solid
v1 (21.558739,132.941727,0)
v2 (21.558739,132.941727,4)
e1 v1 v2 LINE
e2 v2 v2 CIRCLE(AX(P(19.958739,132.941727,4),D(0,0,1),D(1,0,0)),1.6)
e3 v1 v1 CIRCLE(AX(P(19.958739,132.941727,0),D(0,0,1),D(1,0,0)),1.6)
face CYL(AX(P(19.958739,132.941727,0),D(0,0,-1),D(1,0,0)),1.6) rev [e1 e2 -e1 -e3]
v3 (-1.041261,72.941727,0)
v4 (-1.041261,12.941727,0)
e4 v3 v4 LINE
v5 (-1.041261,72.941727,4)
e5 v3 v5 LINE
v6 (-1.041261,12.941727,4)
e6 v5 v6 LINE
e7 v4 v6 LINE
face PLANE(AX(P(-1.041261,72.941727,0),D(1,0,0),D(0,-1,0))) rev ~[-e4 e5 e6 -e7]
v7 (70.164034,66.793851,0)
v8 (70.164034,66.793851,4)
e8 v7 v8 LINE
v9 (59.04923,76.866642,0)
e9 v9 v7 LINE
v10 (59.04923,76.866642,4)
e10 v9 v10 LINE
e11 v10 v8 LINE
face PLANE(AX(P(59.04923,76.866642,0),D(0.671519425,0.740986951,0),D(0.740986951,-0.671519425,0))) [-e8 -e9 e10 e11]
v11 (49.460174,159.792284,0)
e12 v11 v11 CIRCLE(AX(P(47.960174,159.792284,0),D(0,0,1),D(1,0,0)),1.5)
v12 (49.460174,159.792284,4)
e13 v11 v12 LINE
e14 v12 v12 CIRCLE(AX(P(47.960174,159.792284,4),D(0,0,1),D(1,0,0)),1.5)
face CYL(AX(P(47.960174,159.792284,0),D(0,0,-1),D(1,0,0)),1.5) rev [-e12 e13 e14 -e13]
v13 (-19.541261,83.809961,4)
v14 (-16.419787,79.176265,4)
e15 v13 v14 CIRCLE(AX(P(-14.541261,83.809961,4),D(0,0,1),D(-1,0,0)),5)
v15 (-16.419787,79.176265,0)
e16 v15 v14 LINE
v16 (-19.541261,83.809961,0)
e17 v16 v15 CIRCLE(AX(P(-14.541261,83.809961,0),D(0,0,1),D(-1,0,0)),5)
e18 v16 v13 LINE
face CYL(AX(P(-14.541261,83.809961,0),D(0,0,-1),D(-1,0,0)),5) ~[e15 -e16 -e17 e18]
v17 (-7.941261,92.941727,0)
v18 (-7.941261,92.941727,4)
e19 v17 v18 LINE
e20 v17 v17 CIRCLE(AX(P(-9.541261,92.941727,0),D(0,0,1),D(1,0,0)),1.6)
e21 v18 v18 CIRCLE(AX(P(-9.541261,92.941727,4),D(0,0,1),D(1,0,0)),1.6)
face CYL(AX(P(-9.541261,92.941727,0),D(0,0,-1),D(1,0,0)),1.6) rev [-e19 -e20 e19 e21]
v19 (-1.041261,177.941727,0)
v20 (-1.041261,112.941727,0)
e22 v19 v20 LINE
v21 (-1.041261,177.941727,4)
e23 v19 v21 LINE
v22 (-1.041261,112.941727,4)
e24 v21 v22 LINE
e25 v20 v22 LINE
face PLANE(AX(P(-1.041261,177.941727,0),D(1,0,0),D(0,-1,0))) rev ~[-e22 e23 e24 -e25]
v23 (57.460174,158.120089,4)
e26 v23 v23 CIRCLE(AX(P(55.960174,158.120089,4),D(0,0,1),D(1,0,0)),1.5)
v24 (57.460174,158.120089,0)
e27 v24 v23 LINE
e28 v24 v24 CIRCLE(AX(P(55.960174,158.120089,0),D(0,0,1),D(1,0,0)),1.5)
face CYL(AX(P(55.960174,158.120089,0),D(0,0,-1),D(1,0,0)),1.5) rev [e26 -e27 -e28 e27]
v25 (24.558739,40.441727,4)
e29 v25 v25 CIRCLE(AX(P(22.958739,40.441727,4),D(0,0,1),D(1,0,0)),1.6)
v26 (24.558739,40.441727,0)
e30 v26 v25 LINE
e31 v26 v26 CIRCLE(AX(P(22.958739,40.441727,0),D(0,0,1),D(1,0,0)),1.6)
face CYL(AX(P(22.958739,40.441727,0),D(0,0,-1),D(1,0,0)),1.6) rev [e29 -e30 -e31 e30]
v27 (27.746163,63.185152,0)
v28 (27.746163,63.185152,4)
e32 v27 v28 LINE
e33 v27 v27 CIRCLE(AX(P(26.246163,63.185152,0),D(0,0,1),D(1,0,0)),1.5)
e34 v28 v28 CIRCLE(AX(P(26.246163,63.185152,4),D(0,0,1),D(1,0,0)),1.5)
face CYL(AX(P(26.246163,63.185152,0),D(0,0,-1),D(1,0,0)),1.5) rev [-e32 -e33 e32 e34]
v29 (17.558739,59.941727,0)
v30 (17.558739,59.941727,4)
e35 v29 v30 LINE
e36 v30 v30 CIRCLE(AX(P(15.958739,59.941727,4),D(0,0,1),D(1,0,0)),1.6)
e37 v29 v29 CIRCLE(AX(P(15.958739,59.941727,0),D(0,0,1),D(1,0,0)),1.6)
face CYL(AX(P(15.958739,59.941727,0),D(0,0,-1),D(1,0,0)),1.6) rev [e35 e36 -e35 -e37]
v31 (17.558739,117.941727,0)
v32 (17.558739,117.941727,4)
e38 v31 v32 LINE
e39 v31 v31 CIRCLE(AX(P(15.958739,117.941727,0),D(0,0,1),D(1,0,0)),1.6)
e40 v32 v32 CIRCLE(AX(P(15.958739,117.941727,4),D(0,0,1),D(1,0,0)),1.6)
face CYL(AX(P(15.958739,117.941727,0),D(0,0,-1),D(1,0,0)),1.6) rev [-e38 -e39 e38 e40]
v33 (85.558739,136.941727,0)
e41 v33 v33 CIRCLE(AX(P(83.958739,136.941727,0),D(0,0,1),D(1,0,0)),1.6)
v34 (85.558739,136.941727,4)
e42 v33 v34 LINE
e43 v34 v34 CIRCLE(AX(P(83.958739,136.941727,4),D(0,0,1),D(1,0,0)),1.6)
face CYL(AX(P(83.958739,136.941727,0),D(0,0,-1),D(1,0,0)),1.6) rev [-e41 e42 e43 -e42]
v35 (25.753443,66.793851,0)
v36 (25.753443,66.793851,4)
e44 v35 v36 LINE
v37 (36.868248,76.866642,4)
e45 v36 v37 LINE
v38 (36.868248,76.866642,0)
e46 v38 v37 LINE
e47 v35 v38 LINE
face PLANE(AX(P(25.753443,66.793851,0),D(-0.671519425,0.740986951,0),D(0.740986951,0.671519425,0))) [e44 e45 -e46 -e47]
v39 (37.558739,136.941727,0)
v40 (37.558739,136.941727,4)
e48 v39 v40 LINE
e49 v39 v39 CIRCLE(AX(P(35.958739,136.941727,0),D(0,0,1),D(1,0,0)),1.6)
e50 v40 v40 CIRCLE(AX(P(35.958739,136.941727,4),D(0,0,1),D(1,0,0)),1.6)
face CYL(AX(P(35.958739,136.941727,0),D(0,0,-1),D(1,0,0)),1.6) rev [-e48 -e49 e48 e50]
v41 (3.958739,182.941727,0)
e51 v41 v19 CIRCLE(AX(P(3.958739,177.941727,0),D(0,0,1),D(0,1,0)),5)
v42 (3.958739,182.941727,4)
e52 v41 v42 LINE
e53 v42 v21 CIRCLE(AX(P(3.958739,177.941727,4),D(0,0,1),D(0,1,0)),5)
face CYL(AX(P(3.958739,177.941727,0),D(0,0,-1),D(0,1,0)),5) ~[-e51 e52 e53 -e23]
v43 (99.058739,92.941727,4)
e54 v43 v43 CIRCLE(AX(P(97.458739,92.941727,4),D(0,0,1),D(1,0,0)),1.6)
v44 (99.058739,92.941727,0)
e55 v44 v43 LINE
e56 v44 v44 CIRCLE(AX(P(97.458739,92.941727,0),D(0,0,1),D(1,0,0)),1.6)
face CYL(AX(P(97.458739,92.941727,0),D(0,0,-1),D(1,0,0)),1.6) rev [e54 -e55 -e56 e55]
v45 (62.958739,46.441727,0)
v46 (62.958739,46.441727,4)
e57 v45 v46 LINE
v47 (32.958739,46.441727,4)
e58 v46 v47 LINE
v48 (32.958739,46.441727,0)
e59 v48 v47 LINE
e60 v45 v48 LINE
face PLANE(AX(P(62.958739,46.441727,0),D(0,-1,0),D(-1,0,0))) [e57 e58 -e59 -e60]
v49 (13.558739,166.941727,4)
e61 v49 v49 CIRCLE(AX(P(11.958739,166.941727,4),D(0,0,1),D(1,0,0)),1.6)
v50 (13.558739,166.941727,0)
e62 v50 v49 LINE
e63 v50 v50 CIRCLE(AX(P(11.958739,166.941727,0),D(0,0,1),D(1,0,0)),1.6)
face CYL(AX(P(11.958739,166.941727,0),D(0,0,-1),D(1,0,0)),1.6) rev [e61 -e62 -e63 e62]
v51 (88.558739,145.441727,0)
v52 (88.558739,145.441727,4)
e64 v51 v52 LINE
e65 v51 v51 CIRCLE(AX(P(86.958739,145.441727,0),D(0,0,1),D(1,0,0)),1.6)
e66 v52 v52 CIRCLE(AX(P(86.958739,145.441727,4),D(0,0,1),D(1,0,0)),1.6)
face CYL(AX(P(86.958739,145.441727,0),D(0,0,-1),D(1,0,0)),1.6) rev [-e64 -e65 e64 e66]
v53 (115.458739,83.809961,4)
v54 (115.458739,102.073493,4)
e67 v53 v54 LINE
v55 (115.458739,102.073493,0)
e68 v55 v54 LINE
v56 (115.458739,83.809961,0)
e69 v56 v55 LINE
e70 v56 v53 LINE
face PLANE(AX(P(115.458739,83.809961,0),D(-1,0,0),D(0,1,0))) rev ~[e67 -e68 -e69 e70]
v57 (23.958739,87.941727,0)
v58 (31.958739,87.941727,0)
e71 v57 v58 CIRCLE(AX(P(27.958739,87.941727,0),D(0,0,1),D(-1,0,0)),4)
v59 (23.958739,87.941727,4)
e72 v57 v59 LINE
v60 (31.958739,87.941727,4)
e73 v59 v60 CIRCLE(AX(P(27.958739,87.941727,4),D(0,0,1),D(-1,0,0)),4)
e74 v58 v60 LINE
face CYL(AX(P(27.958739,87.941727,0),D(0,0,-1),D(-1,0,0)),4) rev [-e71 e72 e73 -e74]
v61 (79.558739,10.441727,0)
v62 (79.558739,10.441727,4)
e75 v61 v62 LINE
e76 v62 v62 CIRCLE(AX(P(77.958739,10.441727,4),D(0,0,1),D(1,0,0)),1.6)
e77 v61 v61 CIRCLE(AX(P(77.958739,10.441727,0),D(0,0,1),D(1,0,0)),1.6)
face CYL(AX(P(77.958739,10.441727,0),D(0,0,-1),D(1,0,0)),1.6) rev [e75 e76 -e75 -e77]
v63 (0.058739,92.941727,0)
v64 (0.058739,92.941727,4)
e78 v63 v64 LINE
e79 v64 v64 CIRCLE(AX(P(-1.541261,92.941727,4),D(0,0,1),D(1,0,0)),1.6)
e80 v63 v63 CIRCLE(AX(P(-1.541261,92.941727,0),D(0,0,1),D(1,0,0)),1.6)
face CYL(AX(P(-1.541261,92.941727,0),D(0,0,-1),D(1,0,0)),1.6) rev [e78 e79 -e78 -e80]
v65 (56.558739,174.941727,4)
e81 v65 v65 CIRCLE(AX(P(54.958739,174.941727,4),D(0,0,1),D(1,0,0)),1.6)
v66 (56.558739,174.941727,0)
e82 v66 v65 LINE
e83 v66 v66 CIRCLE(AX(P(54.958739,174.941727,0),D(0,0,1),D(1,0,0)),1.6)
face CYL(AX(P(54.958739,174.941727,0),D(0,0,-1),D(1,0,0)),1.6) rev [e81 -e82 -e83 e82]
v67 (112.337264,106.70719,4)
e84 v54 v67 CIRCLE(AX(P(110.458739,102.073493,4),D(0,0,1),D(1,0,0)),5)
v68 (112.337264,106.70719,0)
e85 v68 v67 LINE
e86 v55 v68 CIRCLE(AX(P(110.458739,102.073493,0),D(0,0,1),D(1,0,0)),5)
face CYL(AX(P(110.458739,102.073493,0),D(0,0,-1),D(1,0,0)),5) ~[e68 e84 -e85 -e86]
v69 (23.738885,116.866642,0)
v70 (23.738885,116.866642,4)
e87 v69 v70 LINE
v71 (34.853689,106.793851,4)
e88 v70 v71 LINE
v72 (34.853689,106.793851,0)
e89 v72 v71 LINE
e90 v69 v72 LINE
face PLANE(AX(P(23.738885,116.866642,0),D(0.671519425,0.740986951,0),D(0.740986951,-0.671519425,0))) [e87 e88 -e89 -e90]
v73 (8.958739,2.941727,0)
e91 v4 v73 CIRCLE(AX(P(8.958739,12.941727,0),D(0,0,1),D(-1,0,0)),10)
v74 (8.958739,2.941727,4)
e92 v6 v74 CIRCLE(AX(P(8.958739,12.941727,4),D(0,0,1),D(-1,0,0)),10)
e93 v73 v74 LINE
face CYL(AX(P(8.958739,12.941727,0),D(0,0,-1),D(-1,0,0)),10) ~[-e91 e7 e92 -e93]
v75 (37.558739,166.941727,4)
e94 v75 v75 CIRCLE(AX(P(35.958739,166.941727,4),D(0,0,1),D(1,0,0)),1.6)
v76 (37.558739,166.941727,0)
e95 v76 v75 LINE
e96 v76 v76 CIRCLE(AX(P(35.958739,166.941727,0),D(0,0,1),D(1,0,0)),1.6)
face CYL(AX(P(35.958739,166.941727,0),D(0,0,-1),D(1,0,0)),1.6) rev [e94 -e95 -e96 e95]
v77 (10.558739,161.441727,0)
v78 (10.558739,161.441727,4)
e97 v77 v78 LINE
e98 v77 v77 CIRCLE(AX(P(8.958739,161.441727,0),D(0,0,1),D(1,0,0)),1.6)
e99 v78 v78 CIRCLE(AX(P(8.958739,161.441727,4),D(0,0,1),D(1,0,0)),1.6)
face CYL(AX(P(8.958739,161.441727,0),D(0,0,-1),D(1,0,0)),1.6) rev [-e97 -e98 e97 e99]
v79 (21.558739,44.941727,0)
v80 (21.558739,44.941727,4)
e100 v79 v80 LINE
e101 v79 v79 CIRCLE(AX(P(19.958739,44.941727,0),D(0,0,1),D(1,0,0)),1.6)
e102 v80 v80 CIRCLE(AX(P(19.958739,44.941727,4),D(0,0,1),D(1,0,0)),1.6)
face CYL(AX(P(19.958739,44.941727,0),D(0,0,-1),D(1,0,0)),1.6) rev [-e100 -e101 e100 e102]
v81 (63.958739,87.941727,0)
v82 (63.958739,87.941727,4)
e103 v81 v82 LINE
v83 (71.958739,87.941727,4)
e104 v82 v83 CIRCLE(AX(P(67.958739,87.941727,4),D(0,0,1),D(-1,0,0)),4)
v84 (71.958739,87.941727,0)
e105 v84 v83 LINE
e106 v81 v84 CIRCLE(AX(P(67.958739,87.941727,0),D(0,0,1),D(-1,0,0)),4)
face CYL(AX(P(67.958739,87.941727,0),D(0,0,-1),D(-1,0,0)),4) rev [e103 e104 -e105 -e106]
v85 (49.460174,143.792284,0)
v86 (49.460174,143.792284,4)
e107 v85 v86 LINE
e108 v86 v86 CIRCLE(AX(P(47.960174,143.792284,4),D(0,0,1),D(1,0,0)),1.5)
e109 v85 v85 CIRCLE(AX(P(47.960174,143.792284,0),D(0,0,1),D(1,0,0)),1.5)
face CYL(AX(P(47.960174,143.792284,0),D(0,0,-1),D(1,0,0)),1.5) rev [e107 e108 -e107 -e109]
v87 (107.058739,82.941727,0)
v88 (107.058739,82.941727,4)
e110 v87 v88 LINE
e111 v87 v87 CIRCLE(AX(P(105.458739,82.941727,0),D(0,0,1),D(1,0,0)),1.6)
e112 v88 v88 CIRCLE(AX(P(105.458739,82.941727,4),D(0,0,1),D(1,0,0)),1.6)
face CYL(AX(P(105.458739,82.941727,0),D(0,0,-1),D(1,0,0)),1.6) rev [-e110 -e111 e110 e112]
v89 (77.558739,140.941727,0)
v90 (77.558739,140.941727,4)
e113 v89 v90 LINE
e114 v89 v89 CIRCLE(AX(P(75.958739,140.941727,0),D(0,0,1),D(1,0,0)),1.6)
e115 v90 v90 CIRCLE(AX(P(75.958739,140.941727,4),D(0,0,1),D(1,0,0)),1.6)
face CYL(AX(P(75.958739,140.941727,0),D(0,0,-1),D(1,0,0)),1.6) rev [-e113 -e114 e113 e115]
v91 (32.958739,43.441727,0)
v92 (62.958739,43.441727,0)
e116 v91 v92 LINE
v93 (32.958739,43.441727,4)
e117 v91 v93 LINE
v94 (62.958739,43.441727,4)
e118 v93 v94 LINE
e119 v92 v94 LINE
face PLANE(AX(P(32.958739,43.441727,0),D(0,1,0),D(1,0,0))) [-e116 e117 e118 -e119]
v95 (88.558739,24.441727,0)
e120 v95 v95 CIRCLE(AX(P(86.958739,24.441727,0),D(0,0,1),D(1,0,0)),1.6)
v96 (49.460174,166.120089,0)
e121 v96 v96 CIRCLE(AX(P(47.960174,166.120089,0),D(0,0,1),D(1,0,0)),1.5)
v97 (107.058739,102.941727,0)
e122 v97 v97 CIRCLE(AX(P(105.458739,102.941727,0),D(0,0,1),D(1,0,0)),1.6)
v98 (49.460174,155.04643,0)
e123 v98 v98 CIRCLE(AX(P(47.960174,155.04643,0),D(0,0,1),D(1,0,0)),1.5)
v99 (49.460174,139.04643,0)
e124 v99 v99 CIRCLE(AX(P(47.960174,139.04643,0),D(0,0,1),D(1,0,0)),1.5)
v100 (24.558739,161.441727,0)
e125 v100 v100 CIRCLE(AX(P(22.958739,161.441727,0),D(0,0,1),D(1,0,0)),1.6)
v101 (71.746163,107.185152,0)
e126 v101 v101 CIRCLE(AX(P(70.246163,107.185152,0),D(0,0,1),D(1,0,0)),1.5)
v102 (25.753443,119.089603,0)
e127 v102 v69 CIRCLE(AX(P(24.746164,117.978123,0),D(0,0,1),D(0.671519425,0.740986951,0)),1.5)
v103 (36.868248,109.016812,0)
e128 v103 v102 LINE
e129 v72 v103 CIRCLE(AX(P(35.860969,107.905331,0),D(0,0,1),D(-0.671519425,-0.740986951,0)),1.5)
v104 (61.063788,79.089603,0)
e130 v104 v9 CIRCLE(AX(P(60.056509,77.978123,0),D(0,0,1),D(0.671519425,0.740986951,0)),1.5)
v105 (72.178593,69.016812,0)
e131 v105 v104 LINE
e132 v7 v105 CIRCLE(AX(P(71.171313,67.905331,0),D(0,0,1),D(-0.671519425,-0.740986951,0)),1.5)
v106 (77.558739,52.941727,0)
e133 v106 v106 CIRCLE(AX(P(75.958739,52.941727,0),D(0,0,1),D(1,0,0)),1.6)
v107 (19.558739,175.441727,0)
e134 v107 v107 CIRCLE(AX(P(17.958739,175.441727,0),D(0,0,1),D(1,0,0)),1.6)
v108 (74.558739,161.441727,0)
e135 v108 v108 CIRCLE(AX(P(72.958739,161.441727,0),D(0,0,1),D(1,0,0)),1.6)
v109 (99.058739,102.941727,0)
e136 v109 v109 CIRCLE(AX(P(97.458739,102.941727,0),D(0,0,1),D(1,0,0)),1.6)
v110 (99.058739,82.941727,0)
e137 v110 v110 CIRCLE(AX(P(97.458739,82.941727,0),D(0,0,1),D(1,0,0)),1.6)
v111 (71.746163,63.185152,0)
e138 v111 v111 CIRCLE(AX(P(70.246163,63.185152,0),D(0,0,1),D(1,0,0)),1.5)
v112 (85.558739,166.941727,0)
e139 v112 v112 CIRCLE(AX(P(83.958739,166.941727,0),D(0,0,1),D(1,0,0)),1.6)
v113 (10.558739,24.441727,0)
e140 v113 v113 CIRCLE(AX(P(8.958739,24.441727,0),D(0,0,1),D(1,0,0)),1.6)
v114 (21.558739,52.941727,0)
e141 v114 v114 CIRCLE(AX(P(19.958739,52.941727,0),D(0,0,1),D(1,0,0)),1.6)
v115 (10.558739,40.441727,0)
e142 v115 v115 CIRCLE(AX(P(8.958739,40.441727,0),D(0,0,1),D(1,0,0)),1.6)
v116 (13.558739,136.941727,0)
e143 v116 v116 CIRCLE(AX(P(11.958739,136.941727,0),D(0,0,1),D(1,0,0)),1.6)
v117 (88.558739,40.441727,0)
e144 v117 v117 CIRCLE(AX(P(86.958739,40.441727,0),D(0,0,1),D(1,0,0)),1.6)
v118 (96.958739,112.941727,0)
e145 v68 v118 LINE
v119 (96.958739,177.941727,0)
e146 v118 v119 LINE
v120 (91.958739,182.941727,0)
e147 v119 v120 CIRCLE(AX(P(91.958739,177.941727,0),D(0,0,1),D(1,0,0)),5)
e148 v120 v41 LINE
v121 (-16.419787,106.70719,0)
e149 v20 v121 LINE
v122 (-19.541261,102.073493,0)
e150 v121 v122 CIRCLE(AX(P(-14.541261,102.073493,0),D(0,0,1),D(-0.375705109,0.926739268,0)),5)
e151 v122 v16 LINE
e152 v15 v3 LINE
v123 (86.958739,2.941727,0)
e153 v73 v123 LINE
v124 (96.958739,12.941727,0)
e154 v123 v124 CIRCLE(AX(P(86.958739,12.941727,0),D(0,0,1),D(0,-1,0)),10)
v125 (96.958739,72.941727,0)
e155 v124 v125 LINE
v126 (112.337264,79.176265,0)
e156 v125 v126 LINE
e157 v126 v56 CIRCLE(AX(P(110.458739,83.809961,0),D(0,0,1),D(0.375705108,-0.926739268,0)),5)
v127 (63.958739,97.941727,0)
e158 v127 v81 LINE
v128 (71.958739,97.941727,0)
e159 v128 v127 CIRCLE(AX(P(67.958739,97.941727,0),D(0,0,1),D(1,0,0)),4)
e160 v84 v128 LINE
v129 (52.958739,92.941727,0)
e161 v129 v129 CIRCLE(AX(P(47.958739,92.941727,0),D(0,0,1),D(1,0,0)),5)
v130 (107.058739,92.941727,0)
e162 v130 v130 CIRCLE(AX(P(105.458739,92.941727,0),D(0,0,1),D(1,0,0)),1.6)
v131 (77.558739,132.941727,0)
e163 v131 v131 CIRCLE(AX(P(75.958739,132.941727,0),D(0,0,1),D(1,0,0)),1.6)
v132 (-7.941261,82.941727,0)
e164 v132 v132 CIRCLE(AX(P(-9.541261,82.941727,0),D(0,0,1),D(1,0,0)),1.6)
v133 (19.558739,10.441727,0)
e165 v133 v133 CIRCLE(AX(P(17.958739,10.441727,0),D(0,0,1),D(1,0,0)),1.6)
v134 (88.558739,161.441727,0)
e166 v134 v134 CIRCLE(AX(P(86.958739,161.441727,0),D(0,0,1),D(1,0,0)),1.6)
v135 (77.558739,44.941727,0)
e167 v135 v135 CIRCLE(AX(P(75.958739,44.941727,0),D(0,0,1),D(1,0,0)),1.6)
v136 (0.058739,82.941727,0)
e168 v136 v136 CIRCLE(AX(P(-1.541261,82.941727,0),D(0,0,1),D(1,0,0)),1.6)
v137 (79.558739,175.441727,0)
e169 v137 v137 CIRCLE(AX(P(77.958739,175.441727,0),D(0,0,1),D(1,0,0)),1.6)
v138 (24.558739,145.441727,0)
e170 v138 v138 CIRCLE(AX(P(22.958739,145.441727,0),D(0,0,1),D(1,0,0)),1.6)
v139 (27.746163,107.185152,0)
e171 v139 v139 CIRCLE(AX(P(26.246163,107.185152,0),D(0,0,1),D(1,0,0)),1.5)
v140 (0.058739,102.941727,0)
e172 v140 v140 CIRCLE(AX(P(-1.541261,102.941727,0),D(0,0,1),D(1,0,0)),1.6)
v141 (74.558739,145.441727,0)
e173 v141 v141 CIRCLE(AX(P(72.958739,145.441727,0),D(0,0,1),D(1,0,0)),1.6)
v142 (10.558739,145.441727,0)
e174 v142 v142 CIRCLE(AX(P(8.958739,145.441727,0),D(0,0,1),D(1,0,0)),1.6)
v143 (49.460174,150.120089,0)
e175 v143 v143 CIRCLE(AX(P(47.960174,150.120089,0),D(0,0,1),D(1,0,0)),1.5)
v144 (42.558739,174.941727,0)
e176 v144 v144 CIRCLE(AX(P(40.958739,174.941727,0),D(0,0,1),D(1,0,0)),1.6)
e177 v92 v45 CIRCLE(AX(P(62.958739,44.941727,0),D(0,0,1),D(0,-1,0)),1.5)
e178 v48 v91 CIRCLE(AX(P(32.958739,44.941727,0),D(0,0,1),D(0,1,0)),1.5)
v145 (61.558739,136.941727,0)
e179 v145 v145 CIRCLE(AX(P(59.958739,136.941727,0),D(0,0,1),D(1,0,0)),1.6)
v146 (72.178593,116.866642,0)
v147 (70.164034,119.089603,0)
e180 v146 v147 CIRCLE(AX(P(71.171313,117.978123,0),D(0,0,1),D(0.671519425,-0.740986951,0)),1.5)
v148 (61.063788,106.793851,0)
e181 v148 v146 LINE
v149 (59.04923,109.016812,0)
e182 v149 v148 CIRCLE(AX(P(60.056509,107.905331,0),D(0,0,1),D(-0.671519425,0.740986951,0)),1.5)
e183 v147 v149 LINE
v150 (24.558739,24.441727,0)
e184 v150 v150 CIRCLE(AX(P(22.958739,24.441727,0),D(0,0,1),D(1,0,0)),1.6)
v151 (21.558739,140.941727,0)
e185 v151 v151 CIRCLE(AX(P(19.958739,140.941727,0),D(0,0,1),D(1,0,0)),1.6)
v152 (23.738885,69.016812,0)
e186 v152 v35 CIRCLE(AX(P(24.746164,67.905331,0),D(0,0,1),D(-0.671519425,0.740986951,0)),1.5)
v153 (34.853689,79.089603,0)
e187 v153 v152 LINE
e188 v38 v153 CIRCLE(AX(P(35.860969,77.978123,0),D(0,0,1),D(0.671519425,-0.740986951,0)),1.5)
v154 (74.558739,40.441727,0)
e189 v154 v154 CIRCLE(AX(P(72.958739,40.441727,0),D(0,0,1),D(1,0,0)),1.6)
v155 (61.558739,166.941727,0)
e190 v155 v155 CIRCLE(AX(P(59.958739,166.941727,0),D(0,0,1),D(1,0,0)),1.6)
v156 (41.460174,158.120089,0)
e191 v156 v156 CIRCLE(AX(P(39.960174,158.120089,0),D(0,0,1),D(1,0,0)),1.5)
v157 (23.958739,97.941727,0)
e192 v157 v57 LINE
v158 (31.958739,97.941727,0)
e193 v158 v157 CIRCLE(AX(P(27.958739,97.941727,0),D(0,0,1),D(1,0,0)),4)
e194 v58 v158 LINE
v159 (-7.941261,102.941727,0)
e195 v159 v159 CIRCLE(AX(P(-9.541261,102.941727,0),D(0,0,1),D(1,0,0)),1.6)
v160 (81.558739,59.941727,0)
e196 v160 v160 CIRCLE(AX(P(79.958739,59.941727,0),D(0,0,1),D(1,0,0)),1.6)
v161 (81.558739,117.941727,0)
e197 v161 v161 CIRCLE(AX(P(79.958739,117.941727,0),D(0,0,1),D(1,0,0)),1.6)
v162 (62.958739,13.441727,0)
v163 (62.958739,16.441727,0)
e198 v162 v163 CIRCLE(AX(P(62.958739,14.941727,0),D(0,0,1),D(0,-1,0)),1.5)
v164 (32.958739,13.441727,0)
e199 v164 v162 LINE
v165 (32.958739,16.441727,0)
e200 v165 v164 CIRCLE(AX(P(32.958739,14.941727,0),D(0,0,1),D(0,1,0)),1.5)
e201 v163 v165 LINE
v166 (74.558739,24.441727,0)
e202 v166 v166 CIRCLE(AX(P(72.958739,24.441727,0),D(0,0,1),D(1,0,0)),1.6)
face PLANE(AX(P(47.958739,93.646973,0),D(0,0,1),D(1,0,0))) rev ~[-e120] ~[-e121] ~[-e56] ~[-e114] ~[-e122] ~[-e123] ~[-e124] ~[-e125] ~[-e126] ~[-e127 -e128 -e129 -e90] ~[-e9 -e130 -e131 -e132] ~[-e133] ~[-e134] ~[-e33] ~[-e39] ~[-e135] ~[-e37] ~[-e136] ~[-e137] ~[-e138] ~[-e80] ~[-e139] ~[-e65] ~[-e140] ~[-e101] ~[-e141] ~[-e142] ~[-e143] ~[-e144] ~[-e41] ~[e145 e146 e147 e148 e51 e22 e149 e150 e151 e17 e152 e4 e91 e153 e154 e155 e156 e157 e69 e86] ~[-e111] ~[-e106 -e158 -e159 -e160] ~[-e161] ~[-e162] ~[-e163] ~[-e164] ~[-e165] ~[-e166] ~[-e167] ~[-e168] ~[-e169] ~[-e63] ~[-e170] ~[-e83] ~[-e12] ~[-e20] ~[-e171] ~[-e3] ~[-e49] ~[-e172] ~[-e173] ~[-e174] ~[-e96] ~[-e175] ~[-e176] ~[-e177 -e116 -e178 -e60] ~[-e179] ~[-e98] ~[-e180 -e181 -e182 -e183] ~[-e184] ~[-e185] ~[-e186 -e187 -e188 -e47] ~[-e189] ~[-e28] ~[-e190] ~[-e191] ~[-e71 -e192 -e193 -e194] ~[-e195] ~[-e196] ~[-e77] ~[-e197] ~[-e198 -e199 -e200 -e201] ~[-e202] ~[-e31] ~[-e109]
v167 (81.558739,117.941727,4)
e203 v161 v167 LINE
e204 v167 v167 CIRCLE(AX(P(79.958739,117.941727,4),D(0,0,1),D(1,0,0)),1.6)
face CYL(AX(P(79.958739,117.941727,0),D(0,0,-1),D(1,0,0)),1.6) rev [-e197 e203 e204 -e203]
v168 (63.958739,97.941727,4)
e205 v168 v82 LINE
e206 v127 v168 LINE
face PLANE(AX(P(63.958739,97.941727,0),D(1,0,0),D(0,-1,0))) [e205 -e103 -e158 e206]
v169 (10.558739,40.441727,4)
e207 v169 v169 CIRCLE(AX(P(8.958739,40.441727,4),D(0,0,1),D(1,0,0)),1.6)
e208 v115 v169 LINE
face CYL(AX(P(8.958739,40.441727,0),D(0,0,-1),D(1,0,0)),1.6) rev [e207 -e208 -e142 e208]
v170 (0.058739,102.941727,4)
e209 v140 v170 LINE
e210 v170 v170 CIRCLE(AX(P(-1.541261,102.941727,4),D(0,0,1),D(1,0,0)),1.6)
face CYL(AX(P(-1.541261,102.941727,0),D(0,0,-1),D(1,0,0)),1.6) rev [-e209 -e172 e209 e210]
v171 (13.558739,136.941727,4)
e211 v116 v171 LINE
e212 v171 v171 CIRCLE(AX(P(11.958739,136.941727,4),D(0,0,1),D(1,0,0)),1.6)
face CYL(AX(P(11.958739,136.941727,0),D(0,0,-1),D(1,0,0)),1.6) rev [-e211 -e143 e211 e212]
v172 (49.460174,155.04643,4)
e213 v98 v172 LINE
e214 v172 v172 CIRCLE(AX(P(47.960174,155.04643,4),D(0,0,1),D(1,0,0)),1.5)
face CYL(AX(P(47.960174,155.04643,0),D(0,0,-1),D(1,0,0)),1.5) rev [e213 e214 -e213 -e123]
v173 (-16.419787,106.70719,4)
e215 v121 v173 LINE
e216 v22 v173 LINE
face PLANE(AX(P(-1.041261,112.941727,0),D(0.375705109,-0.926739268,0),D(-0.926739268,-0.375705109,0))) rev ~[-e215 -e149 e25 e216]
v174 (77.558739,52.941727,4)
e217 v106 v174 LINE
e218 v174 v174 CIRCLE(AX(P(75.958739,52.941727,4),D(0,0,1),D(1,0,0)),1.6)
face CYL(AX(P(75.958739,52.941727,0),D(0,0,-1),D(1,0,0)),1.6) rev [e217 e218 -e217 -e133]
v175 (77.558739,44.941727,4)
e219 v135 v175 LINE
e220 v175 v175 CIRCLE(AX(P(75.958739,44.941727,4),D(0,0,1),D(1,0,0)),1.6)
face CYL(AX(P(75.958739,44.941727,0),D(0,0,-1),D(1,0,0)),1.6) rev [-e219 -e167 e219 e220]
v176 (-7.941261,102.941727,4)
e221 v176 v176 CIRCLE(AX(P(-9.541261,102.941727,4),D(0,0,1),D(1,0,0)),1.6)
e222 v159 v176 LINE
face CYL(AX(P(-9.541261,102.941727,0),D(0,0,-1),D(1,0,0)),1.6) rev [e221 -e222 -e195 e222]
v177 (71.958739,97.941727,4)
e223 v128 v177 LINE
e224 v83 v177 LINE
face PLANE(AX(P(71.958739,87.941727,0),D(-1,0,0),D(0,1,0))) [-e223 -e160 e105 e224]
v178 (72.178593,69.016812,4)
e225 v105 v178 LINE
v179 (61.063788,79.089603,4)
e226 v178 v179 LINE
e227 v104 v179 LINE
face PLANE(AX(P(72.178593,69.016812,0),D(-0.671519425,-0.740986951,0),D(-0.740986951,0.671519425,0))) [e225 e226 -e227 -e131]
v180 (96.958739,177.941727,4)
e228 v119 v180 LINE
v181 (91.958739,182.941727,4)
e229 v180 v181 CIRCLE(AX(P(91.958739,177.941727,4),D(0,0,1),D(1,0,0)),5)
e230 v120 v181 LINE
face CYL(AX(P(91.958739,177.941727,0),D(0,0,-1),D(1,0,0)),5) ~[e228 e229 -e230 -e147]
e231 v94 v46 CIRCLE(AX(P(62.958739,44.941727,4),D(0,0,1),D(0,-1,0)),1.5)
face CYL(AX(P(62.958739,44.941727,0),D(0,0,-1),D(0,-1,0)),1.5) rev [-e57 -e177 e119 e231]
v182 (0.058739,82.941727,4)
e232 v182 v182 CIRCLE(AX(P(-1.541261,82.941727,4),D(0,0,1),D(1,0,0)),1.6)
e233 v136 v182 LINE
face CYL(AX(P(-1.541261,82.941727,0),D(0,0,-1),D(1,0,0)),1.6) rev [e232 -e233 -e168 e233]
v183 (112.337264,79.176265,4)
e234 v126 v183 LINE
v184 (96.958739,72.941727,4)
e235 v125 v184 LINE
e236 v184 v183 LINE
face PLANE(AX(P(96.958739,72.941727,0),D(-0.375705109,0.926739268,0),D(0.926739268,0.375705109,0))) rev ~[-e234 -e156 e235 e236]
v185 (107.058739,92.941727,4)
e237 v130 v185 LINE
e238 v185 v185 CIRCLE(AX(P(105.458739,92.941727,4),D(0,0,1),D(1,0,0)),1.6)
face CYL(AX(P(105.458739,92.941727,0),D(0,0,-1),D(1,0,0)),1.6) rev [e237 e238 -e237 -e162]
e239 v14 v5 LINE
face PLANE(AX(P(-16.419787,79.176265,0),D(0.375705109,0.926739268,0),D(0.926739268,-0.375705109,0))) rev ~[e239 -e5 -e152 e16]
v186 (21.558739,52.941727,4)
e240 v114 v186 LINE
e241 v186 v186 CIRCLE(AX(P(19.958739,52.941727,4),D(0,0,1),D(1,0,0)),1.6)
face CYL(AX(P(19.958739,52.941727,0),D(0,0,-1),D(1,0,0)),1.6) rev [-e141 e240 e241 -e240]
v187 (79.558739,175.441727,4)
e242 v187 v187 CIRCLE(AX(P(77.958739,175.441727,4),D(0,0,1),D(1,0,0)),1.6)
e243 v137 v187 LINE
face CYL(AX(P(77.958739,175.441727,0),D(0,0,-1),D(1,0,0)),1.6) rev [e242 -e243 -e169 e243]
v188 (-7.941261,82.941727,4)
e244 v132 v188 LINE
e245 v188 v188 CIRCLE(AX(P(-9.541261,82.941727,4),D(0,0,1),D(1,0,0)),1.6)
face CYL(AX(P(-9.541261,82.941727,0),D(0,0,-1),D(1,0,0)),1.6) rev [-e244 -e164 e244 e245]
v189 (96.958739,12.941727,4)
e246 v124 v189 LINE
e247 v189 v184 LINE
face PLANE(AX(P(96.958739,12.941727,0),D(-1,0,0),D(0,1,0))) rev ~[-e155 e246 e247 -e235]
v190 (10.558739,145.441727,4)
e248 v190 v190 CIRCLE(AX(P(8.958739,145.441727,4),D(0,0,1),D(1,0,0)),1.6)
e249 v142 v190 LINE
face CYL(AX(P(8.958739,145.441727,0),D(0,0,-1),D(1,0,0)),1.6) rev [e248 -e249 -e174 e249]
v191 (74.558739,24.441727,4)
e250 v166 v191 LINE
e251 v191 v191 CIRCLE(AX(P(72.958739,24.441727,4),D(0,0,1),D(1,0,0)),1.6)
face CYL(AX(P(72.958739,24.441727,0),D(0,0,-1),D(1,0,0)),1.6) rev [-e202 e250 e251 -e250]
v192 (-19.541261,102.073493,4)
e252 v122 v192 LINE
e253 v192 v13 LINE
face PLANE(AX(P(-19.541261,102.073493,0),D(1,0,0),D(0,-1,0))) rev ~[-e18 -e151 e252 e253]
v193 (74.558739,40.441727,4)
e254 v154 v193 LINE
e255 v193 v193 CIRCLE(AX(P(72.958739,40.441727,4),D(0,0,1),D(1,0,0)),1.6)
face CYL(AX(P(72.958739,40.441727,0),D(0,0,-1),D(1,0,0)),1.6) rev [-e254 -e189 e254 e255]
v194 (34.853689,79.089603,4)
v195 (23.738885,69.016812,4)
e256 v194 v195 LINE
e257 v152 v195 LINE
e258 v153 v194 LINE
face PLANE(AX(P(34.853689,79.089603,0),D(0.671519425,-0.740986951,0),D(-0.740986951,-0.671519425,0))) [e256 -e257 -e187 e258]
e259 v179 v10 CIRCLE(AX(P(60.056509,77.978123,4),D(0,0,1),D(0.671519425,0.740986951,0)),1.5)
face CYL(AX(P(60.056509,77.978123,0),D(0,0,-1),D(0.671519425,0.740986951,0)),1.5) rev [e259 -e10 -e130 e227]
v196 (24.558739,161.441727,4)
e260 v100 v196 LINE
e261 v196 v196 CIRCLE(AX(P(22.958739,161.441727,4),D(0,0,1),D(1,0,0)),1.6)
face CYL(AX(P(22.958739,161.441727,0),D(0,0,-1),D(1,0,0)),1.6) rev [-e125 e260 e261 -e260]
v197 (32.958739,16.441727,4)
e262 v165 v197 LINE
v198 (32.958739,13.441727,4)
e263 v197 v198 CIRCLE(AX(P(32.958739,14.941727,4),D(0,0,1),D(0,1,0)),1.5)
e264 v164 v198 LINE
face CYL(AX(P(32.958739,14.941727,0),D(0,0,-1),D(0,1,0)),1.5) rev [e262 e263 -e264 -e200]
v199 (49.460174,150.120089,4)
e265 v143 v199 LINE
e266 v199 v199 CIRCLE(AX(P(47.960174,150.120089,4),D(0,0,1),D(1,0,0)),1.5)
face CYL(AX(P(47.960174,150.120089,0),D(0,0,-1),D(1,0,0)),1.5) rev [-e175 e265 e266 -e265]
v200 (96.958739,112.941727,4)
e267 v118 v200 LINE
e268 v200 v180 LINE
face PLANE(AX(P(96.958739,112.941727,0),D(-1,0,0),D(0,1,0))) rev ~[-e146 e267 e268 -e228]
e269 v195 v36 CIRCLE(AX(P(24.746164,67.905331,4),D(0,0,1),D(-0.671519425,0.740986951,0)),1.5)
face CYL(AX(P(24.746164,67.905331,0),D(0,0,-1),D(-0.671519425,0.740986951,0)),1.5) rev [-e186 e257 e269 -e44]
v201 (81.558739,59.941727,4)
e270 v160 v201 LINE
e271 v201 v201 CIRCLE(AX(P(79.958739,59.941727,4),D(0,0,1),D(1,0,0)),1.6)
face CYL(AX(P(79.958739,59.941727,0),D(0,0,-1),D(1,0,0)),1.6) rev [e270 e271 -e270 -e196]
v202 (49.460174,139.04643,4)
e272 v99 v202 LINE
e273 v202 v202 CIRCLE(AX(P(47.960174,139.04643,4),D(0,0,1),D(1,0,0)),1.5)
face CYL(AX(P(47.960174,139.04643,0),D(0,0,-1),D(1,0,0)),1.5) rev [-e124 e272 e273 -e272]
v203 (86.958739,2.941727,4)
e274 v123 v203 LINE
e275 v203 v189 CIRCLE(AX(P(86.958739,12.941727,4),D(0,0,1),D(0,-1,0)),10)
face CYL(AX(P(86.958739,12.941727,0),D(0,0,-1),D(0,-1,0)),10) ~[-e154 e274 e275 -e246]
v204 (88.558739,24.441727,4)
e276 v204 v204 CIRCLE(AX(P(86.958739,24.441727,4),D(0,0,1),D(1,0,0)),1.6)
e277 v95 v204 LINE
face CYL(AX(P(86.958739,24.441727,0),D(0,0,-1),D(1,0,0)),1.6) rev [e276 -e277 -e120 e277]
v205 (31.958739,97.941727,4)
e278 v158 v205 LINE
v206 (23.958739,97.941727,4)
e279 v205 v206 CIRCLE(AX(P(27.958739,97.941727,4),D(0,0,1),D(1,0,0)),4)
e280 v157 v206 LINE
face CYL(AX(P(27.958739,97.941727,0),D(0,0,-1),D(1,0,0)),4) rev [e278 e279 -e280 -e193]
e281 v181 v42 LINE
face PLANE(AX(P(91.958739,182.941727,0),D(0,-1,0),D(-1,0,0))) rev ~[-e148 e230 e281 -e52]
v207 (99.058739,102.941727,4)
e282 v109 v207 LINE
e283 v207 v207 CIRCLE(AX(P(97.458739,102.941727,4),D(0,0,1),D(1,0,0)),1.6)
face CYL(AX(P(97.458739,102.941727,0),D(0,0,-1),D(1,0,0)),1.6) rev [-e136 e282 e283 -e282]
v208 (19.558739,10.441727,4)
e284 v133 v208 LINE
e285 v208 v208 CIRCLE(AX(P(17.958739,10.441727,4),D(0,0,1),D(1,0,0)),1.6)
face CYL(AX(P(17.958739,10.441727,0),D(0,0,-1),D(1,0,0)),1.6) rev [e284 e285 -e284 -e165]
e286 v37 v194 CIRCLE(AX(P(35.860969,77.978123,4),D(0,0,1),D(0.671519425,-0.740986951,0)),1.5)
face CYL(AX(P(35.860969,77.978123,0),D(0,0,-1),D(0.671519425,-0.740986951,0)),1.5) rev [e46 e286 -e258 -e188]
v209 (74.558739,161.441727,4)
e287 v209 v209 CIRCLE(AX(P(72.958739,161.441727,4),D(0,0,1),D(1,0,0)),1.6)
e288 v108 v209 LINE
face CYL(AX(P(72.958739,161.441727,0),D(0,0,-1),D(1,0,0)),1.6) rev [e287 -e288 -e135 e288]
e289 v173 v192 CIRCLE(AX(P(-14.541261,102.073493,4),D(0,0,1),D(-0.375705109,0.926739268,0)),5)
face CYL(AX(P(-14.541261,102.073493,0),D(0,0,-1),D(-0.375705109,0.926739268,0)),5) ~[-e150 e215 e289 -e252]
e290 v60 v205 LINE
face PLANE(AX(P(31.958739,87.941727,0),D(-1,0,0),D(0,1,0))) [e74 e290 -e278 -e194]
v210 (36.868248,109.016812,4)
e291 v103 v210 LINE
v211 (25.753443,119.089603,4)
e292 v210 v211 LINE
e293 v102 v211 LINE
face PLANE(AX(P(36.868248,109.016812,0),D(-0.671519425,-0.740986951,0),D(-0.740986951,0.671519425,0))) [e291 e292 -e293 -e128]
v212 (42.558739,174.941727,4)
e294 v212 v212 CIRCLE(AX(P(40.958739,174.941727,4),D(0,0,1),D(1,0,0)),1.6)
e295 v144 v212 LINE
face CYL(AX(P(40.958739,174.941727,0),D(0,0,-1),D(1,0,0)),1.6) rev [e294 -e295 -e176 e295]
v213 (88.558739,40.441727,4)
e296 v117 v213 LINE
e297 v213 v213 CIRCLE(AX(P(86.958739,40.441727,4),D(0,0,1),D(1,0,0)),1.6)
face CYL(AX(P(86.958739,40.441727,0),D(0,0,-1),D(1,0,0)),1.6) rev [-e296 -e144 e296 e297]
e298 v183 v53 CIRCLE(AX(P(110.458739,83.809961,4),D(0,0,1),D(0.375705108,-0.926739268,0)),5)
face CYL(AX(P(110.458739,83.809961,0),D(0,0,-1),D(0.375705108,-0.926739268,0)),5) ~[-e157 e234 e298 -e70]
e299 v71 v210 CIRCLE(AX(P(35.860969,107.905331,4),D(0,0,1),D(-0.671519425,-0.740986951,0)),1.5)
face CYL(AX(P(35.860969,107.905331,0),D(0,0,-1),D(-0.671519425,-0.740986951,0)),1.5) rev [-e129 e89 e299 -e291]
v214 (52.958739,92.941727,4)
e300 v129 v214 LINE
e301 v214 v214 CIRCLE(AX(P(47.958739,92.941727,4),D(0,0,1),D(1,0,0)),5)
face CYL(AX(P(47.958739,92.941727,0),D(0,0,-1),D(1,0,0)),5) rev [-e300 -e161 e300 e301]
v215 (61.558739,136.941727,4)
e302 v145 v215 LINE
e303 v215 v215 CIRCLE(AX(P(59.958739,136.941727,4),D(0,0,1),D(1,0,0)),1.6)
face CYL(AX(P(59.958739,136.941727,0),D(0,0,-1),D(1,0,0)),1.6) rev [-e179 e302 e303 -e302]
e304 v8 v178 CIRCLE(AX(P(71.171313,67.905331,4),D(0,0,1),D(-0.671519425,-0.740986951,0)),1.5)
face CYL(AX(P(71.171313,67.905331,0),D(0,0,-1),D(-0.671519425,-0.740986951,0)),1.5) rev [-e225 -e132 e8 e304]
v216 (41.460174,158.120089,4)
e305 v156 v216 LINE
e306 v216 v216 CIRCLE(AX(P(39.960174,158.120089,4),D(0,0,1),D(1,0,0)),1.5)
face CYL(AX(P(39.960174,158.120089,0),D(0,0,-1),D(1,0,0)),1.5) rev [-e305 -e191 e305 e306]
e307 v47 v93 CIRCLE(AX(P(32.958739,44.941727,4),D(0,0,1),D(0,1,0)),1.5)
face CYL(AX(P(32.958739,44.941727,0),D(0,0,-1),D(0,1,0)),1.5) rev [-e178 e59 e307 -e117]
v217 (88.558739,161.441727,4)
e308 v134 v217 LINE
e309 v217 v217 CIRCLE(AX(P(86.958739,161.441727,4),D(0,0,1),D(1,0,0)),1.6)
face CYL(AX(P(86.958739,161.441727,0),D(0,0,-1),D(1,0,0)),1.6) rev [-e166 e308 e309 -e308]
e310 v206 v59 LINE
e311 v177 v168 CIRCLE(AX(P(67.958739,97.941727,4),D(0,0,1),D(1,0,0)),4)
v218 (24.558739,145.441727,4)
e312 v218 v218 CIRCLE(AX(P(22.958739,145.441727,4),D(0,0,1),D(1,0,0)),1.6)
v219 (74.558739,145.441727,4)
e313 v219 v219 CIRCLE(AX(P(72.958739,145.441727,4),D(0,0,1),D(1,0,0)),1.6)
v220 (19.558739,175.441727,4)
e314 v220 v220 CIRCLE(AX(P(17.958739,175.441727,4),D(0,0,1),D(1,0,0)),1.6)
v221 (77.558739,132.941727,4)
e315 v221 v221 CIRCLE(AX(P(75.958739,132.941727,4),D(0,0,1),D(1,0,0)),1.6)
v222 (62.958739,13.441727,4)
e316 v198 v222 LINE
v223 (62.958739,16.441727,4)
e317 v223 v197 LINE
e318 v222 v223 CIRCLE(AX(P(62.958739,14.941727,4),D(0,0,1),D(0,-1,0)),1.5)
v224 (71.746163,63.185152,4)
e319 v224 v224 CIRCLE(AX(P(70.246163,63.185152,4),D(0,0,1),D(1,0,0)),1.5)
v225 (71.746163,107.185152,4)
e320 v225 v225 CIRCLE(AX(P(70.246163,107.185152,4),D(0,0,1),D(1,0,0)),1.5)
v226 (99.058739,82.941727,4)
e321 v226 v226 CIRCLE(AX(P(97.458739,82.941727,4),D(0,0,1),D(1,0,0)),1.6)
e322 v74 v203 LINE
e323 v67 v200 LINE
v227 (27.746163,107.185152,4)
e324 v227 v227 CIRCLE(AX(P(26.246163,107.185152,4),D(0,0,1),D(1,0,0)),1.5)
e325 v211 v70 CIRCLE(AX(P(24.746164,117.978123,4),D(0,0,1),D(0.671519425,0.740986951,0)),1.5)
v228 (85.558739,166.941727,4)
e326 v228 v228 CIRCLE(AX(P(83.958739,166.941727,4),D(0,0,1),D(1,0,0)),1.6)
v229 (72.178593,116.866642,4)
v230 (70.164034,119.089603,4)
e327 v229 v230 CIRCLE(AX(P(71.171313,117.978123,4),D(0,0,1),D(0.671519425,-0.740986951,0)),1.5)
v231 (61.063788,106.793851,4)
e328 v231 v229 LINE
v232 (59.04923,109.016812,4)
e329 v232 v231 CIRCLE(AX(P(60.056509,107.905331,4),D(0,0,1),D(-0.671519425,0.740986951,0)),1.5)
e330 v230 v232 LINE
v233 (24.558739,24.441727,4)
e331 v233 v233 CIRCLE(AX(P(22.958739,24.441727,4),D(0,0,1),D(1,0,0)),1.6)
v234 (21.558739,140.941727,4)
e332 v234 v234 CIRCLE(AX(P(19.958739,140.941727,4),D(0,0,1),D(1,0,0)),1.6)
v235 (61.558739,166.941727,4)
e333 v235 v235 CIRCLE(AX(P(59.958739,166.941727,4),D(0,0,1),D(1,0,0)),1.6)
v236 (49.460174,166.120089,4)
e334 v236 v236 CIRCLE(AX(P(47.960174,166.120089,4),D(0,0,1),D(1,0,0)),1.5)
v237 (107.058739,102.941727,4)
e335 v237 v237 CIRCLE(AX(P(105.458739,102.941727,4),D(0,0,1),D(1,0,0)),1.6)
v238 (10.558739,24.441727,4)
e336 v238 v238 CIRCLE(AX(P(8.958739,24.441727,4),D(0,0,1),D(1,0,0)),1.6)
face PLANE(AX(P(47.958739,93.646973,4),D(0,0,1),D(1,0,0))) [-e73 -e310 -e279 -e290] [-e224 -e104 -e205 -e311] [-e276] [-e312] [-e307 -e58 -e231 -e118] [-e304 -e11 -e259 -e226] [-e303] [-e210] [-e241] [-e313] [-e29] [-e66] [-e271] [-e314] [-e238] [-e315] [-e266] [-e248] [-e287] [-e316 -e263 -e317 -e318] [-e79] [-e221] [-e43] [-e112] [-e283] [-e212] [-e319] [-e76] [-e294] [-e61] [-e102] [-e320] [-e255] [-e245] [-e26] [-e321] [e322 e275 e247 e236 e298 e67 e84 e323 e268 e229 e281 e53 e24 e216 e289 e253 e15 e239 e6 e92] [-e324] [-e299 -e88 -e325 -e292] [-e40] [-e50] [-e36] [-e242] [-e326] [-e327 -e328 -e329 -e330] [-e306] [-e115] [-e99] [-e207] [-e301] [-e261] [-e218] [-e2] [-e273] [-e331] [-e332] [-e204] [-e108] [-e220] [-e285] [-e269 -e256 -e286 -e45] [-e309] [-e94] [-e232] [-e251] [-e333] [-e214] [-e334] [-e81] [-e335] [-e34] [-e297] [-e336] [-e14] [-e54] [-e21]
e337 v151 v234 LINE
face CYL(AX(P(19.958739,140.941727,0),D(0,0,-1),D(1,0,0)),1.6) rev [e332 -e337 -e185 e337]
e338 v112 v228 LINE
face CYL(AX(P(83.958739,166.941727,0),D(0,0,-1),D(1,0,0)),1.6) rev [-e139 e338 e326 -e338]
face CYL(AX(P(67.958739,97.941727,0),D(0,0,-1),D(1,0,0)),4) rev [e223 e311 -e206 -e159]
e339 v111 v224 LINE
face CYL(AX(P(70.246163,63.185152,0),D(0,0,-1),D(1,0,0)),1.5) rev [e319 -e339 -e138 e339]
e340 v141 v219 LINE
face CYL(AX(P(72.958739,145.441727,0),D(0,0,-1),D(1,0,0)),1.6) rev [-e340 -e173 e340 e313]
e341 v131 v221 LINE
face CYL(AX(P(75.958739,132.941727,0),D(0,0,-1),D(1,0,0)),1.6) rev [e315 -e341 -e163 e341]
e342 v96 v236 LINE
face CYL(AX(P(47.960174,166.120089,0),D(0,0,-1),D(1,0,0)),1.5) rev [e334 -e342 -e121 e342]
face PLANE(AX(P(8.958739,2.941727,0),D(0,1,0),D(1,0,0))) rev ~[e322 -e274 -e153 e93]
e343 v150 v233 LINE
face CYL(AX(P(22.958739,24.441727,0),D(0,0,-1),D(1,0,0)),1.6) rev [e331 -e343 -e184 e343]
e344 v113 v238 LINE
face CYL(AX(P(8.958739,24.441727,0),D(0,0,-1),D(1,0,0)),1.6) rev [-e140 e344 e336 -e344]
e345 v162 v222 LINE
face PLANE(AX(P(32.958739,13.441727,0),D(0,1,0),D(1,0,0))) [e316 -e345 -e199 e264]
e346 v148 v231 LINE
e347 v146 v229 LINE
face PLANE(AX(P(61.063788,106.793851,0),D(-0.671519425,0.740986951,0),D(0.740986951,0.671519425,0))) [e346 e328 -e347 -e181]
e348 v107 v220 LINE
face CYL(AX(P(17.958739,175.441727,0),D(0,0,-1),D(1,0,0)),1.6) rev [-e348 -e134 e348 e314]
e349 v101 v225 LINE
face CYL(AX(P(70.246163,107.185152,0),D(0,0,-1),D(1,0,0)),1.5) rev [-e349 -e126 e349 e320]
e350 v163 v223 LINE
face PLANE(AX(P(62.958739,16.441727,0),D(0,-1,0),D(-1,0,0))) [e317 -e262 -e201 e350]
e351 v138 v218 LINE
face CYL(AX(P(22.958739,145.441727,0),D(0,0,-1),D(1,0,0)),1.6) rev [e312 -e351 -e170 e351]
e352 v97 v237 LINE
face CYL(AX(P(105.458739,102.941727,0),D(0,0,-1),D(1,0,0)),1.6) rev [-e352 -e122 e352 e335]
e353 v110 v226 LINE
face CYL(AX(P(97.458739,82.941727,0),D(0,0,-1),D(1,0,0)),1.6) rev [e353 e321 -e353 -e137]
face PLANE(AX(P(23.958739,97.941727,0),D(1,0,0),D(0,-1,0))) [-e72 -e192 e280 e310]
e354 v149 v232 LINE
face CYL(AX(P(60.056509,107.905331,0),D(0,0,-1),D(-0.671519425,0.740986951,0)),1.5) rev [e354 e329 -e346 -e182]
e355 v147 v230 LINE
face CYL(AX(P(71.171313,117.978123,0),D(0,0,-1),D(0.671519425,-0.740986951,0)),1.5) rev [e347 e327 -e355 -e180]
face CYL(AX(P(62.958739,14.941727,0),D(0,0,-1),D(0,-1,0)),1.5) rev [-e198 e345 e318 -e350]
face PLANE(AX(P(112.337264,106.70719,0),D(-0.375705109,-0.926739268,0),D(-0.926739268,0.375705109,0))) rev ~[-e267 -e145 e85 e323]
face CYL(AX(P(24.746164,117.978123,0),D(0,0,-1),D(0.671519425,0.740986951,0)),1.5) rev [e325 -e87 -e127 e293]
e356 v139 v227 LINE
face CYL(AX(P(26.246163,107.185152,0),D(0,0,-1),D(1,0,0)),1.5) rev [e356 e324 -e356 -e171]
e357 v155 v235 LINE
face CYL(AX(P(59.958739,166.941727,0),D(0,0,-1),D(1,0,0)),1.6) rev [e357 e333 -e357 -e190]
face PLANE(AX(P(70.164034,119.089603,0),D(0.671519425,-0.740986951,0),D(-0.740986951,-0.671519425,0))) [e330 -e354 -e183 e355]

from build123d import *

# Parameters (mm, degrees)
SKETCH_1_R      = 1.6
SKETCH_1_R_2    = 5
SKETCH_1_R_3    = 1.5
EXTRUDE_1_DEPTH = 4


with BuildPart() as part:
    # 草图1 → 凸台-拉伸1 (new body)
    with BuildSketch(Plane.XY):
        with BuildLine():
            Line((-16.419786686, 79.176264565), (-1.041261143, 72.941727182))
            Line((-1.041261143, 72.941727182), (-1.041261143, 12.941727182))
            ThreePointArc((-1.041261143, 12.941727182), (1.887671046, 5.87065937), (8.958738857, 2.941727182))
            Line((8.958738857, 2.941727182), (86.958738857, 2.941727182))
            ThreePointArc((86.958738857, 2.941727182), (94.029806669, 5.87065937), (96.958738857, 12.941727182))
            Line((96.958738857, 12.941727182), (96.958738857, 72.941727182))
            Line((96.958738857, 72.941727182), (112.337264401, 79.176264565))
            ThreePointArc((112.337264401, 79.176264565), (114.605582701, 81.01645305), (115.458738857, 83.809960906))
            Line((115.458738857, 83.809960906), (115.458738857, 102.073493459))
            ThreePointArc((115.458738857, 102.073493459), (114.605582701, 104.867001314), (112.337264401, 106.7071898))
            Line((112.337264401, 106.7071898), (96.958738857, 112.941727182))
            Line((96.958738857, 112.941727182), (96.958738857, 177.941727182))
            ThreePointArc((96.958738857, 177.941727182), (95.494272763, 181.477261088), (91.958738857, 182.941727182))
            Line((91.958738857, 182.941727182), (3.958738857, 182.941727182))
            ThreePointArc((3.958738857, 182.941727182), (0.423204952, 181.477261088), (-1.041261143, 177.941727182))
            Line((-1.041261143, 177.941727182), (-1.041261143, 112.941727182))
            Line((-1.041261143, 112.941727182), (-16.419786686, 106.7071898))
            ThreePointArc((-16.419786686, 106.7071898), (-18.688104986, 104.867001314), (-19.541261143, 102.073493459))
            Line((-19.541261143, 102.073493459), (-19.541261143, 83.809960906))
            ThreePointArc((-19.541261143, 83.809960906), (-18.688104986, 81.01645305), (-16.419786686, 79.176264565))
        make_face()
        with Locations((22.958738857, 161.441727182)):
            Circle(SKETCH_1_R, mode=Mode.SUBTRACT)
        with Locations((72.958738857, 145.441727182)):
            Circle(SKETCH_1_R, mode=Mode.SUBTRACT)
        with Locations((72.958738857, 24.441727182)):
            Circle(SKETCH_1_R, mode=Mode.SUBTRACT)
        with Locations((72.958738857, 40.441727182)):
            Circle(SKETCH_1_R, mode=Mode.SUBTRACT)
        with Locations((86.958738857, 40.441727182)):
            Circle(SKETCH_1_R, mode=Mode.SUBTRACT)
        with Locations((86.958738857, 145.441727182)):
            Circle(SKETCH_1_R, mode=Mode.SUBTRACT)
        with Locations((86.958738857, 161.441727182)):
            Circle(SKETCH_1_R, mode=Mode.SUBTRACT)
        with Locations((72.958738857, 161.441727182)):
            Circle(SKETCH_1_R, mode=Mode.SUBTRACT)
        with Locations((22.958738857, 40.441727182)):
            Circle(SKETCH_1_R, mode=Mode.SUBTRACT)
        with Locations((8.958738857, 145.441727182)):
            Circle(SKETCH_1_R, mode=Mode.SUBTRACT)
        with Locations((8.958738857, 161.441727182)):
            Circle(SKETCH_1_R, mode=Mode.SUBTRACT)
        with Locations((22.958738857, 145.441727182)):
            Circle(SKETCH_1_R, mode=Mode.SUBTRACT)
        with Locations((86.958738857, 24.441727182)):
            Circle(SKETCH_1_R, mode=Mode.SUBTRACT)
        with Locations((8.958738857, 24.441727182)):
            Circle(SKETCH_1_R, mode=Mode.SUBTRACT)
        with Locations((8.958738857, 40.441727182)):
            Circle(SKETCH_1_R, mode=Mode.SUBTRACT)
        with Locations((22.958738857, 24.441727182)):
            Circle(SKETCH_1_R, mode=Mode.SUBTRACT)
        with Locations((40.958738857, 174.941727182)):
            Circle(SKETCH_1_R, mode=Mode.SUBTRACT)
        with Locations((75.958738857, 140.941727182)):
            Circle(SKETCH_1_R, mode=Mode.SUBTRACT)
        with Locations((54.958738857, 174.941727182)):
            Circle(SKETCH_1_R, mode=Mode.SUBTRACT)
        with Locations((19.958738857, 52.941727182)):
            Circle(SKETCH_1_R, mode=Mode.SUBTRACT)
        with Locations((19.958738857, 44.941727182)):
            Circle(SKETCH_1_R, mode=Mode.SUBTRACT)
        with Locations((75.958738857, 44.941727182)):
            Circle(SKETCH_1_R, mode=Mode.SUBTRACT)
        with Locations((75.958738857, 132.941727182)):
            Circle(SKETCH_1_R, mode=Mode.SUBTRACT)
        with Locations((19.958738857, 132.941727182)):
            Circle(SKETCH_1_R, mode=Mode.SUBTRACT)
        with Locations((19.958738857, 140.941727182)):
            Circle(SKETCH_1_R, mode=Mode.SUBTRACT)
        with Locations((75.958738857, 52.941727182)):
            Circle(SKETCH_1_R, mode=Mode.SUBTRACT)
        with Locations((35.958738857, 136.941727182)):
            Circle(SKETCH_1_R, mode=Mode.SUBTRACT)
        with Locations((97.458738857, 82.941727182)):
            Circle(SKETCH_1_R, mode=Mode.SUBTRACT)
        with Locations((105.458738857, 82.941727182)):
            Circle(SKETCH_1_R, mode=Mode.SUBTRACT)
        with Locations((97.458738857, 92.941727182)):
            Circle(SKETCH_1_R, mode=Mode.SUBTRACT)
        with Locations((105.458738857, 92.941727182)):
            Circle(SKETCH_1_R, mode=Mode.SUBTRACT)
        with Locations((-9.541261143, 82.941727182)):
            Circle(SKETCH_1_R, mode=Mode.SUBTRACT)
        with Locations((-1.541261143, 82.941727182)):
            Circle(SKETCH_1_R, mode=Mode.SUBTRACT)
        with Locations((-1.541261143, 92.941727182)):
            Circle(SKETCH_1_R, mode=Mode.SUBTRACT)
        with Locations((-9.541261143, 92.941727182)):
            Circle(SKETCH_1_R, mode=Mode.SUBTRACT)
        with Locations((-1.541261143, 102.941727182)):
            Circle(SKETCH_1_R, mode=Mode.SUBTRACT)
        with Locations((-9.541261143, 102.941727182)):
            Circle(SKETCH_1_R, mode=Mode.SUBTRACT)
        with Locations((83.958738857, 136.941727182)):
            Circle(SKETCH_1_R, mode=Mode.SUBTRACT)
        with Locations((59.958738857, 136.941727182)):
            Circle(SKETCH_1_R, mode=Mode.SUBTRACT)
        with Locations((59.958738857, 166.941727182)):
            Circle(SKETCH_1_R, mode=Mode.SUBTRACT)
        with Locations((15.958738857, 117.941727182)):
            Circle(SKETCH_1_R, mode=Mode.SUBTRACT)
        with Locations((35.958738857, 166.941727182)):
            Circle(SKETCH_1_R, mode=Mode.SUBTRACT)
        with Locations((11.958738857, 136.941727182)):
            Circle(SKETCH_1_R, mode=Mode.SUBTRACT)
        with Locations((11.958738857, 166.941727182)):
            Circle(SKETCH_1_R, mode=Mode.SUBTRACT)
        with Locations((83.958738857, 166.941727182)):
            Circle(SKETCH_1_R, mode=Mode.SUBTRACT)
        with Locations((105.458738857, 102.941727182)):
            Circle(SKETCH_1_R, mode=Mode.SUBTRACT)
        with Locations((97.458738857, 102.941727182)):
            Circle(SKETCH_1_R, mode=Mode.SUBTRACT)
        with Locations((47.958738857, 92.941727182)):
            Circle(SKETCH_1_R_2, mode=Mode.SUBTRACT)
        with Locations((79.958738857, 117.941727182)):
            Circle(SKETCH_1_R, mode=Mode.SUBTRACT)
        with Locations((79.958738857, 59.941727182)):
            Circle(SKETCH_1_R, mode=Mode.SUBTRACT)
        with Locations((15.958738857, 59.941727182)):
            Circle(SKETCH_1_R, mode=Mode.SUBTRACT)
        with Locations((77.958738857, 175.441727182)):
            Circle(SKETCH_1_R, mode=Mode.SUBTRACT)
        with Locations((17.958738857, 175.441727182)):
            Circle(SKETCH_1_R, mode=Mode.SUBTRACT)
        with Locations((17.958738857, 10.441727182)):
            Circle(SKETCH_1_R, mode=Mode.SUBTRACT)
        with Locations((77.958738857, 10.441727182)):
            Circle(SKETCH_1_R, mode=Mode.SUBTRACT)
        with Locations((26.246162591, 107.185151506)):
            Circle(SKETCH_1_R_3, mode=Mode.SUBTRACT)
        with Locations((26.246162591, 63.185151506)):
            Circle(SKETCH_1_R_3, mode=Mode.SUBTRACT)
        with Locations((70.246162591, 63.185151506)):
            Circle(SKETCH_1_R_3, mode=Mode.SUBTRACT)
        with Locations((70.246162591, 107.185151506)):
            Circle(SKETCH_1_R_3, mode=Mode.SUBTRACT)
        with Locations((47.960174004, 166.120088822)):
            Circle(SKETCH_1_R_3, mode=Mode.SUBTRACT)
        with Locations((47.960174004, 150.120088822)):
            Circle(SKETCH_1_R_3, mode=Mode.SUBTRACT)
        with Locations((39.960174004, 158.120088822)):
            Circle(SKETCH_1_R_3, mode=Mode.SUBTRACT)
        with Locations((55.960174004, 158.120088822)):
            Circle(SKETCH_1_R_3, mode=Mode.SUBTRACT)
        with Locations((47.960174004, 159.79228367)):
            Circle(SKETCH_1_R_3, mode=Mode.SUBTRACT)
        with Locations((47.960174004, 143.79228367)):
            Circle(SKETCH_1_R_3, mode=Mode.SUBTRACT)
        with Locations((47.960174004, 155.046429946)):
            Circle(SKETCH_1_R_3, mode=Mode.SUBTRACT)
        with Locations((47.960174004, 139.046429946)):
            Circle(SKETCH_1_R_3, mode=Mode.SUBTRACT)
        with BuildLine():
            Line((71.958738857, 87.941727182), (71.958738857, 97.941727182))
            ThreePointArc((71.958738857, 97.941727182), (67.958738857, 101.941727182), (63.958738857, 97.941727182))
            Line((63.958738857, 97.941727182), (63.958738857, 87.941727182))
            ThreePointArc((63.958738857, 87.941727182), (67.958738857, 83.941727182), (71.958738857, 87.941727182))
        make_face(mode=Mode.SUBTRACT)
        with BuildLine():
            Line((31.958738857, 87.941727182), (31.958738857, 97.941727182))
            ThreePointArc((31.958738857, 97.941727182), (27.958738857, 101.941727182), (23.958738857, 97.941727182))
            Line((23.958738857, 97.941727182), (23.958738857, 87.941727182))
            ThreePointArc((23.958738857, 87.941727182), (27.958738857, 83.941727182), (31.958738857, 87.941727182))
        make_face(mode=Mode.SUBTRACT)
        with BuildLine():
            Line((61.063788273, 106.79385107), (72.178592544, 116.866642441))
            ThreePointArc((72.178592544, 116.866642441), (72.282793834, 118.985402005), (70.16403427, 119.089603295))
            Line((70.16403427, 119.089603295), (59.049229998, 109.016811924))
            ThreePointArc((59.049229998, 109.016811924), (58.945028708, 106.89805236), (61.063788273, 106.79385107))
        make_face(mode=Mode.SUBTRACT)
        with BuildLine():
            Line((36.868247717, 109.016811924), (25.753443445, 119.089603295))
            ThreePointArc((25.753443445, 119.089603295), (23.634683881, 118.985402005), (23.738885171, 116.866642441))
            Line((23.738885171, 116.866642441), (34.853689442, 106.79385107))
            ThreePointArc((34.853689442, 106.79385107), (36.972449007, 106.89805236), (36.868247717, 109.016811924))
        make_face(mode=Mode.SUBTRACT)
        with BuildLine():
            Line((34.853689442, 79.089603295), (23.738885171, 69.016811924))
            ThreePointArc((23.738885171, 69.016811924), (23.634683881, 66.89805236), (25.753443445, 66.79385107))
            Line((25.753443445, 66.79385107), (36.868247717, 76.866642441))
            ThreePointArc((36.868247717, 76.866642441), (36.972449007, 78.985402005), (34.853689442, 79.089603295))
        make_face(mode=Mode.SUBTRACT)
        with BuildLine():
            Line((59.049229998, 76.866642441), (70.16403427, 66.79385107))
            ThreePointArc((70.16403427, 66.79385107), (72.282793834, 66.89805236), (72.178592544, 69.016811924))
            Line((72.178592544, 69.016811924), (61.063788273, 79.089603295))
            ThreePointArc((61.063788273, 79.089603295), (58.945028708, 78.985402005), (59.049229998, 76.866642441))
        make_face(mode=Mode.SUBTRACT)
        with BuildLine():
            Line((32.958738857, 43.441727182), (62.958738857, 43.441727182))
            ThreePointArc((62.958738857, 43.441727182), (64.458738857, 44.941727182), (62.958738857, 46.441727182))
            Line((62.958738857, 46.441727182), (32.958738857, 46.441727182))
            ThreePointArc((32.958738857, 46.441727182), (31.458738857, 44.941727182), (32.958738857, 43.441727182))
        make_face(mode=Mode.SUBTRACT)
        with BuildLine():
            Line((32.958738857, 13.441727182), (62.958738857, 13.441727182))
            ThreePointArc((62.958738857, 13.441727182), (64.458738857, 14.941727182), (62.958738857, 16.441727182))
            Line((62.958738857, 16.441727182), (32.958738857, 16.441727182))
            ThreePointArc((32.958738857, 16.441727182), (31.458738857, 14.941727182), (32.958738857, 13.441727182))
        make_face(mode=Mode.SUBTRACT)
    extrude(amount=EXTRUDE_1_DEPTH)


solid = part.part
